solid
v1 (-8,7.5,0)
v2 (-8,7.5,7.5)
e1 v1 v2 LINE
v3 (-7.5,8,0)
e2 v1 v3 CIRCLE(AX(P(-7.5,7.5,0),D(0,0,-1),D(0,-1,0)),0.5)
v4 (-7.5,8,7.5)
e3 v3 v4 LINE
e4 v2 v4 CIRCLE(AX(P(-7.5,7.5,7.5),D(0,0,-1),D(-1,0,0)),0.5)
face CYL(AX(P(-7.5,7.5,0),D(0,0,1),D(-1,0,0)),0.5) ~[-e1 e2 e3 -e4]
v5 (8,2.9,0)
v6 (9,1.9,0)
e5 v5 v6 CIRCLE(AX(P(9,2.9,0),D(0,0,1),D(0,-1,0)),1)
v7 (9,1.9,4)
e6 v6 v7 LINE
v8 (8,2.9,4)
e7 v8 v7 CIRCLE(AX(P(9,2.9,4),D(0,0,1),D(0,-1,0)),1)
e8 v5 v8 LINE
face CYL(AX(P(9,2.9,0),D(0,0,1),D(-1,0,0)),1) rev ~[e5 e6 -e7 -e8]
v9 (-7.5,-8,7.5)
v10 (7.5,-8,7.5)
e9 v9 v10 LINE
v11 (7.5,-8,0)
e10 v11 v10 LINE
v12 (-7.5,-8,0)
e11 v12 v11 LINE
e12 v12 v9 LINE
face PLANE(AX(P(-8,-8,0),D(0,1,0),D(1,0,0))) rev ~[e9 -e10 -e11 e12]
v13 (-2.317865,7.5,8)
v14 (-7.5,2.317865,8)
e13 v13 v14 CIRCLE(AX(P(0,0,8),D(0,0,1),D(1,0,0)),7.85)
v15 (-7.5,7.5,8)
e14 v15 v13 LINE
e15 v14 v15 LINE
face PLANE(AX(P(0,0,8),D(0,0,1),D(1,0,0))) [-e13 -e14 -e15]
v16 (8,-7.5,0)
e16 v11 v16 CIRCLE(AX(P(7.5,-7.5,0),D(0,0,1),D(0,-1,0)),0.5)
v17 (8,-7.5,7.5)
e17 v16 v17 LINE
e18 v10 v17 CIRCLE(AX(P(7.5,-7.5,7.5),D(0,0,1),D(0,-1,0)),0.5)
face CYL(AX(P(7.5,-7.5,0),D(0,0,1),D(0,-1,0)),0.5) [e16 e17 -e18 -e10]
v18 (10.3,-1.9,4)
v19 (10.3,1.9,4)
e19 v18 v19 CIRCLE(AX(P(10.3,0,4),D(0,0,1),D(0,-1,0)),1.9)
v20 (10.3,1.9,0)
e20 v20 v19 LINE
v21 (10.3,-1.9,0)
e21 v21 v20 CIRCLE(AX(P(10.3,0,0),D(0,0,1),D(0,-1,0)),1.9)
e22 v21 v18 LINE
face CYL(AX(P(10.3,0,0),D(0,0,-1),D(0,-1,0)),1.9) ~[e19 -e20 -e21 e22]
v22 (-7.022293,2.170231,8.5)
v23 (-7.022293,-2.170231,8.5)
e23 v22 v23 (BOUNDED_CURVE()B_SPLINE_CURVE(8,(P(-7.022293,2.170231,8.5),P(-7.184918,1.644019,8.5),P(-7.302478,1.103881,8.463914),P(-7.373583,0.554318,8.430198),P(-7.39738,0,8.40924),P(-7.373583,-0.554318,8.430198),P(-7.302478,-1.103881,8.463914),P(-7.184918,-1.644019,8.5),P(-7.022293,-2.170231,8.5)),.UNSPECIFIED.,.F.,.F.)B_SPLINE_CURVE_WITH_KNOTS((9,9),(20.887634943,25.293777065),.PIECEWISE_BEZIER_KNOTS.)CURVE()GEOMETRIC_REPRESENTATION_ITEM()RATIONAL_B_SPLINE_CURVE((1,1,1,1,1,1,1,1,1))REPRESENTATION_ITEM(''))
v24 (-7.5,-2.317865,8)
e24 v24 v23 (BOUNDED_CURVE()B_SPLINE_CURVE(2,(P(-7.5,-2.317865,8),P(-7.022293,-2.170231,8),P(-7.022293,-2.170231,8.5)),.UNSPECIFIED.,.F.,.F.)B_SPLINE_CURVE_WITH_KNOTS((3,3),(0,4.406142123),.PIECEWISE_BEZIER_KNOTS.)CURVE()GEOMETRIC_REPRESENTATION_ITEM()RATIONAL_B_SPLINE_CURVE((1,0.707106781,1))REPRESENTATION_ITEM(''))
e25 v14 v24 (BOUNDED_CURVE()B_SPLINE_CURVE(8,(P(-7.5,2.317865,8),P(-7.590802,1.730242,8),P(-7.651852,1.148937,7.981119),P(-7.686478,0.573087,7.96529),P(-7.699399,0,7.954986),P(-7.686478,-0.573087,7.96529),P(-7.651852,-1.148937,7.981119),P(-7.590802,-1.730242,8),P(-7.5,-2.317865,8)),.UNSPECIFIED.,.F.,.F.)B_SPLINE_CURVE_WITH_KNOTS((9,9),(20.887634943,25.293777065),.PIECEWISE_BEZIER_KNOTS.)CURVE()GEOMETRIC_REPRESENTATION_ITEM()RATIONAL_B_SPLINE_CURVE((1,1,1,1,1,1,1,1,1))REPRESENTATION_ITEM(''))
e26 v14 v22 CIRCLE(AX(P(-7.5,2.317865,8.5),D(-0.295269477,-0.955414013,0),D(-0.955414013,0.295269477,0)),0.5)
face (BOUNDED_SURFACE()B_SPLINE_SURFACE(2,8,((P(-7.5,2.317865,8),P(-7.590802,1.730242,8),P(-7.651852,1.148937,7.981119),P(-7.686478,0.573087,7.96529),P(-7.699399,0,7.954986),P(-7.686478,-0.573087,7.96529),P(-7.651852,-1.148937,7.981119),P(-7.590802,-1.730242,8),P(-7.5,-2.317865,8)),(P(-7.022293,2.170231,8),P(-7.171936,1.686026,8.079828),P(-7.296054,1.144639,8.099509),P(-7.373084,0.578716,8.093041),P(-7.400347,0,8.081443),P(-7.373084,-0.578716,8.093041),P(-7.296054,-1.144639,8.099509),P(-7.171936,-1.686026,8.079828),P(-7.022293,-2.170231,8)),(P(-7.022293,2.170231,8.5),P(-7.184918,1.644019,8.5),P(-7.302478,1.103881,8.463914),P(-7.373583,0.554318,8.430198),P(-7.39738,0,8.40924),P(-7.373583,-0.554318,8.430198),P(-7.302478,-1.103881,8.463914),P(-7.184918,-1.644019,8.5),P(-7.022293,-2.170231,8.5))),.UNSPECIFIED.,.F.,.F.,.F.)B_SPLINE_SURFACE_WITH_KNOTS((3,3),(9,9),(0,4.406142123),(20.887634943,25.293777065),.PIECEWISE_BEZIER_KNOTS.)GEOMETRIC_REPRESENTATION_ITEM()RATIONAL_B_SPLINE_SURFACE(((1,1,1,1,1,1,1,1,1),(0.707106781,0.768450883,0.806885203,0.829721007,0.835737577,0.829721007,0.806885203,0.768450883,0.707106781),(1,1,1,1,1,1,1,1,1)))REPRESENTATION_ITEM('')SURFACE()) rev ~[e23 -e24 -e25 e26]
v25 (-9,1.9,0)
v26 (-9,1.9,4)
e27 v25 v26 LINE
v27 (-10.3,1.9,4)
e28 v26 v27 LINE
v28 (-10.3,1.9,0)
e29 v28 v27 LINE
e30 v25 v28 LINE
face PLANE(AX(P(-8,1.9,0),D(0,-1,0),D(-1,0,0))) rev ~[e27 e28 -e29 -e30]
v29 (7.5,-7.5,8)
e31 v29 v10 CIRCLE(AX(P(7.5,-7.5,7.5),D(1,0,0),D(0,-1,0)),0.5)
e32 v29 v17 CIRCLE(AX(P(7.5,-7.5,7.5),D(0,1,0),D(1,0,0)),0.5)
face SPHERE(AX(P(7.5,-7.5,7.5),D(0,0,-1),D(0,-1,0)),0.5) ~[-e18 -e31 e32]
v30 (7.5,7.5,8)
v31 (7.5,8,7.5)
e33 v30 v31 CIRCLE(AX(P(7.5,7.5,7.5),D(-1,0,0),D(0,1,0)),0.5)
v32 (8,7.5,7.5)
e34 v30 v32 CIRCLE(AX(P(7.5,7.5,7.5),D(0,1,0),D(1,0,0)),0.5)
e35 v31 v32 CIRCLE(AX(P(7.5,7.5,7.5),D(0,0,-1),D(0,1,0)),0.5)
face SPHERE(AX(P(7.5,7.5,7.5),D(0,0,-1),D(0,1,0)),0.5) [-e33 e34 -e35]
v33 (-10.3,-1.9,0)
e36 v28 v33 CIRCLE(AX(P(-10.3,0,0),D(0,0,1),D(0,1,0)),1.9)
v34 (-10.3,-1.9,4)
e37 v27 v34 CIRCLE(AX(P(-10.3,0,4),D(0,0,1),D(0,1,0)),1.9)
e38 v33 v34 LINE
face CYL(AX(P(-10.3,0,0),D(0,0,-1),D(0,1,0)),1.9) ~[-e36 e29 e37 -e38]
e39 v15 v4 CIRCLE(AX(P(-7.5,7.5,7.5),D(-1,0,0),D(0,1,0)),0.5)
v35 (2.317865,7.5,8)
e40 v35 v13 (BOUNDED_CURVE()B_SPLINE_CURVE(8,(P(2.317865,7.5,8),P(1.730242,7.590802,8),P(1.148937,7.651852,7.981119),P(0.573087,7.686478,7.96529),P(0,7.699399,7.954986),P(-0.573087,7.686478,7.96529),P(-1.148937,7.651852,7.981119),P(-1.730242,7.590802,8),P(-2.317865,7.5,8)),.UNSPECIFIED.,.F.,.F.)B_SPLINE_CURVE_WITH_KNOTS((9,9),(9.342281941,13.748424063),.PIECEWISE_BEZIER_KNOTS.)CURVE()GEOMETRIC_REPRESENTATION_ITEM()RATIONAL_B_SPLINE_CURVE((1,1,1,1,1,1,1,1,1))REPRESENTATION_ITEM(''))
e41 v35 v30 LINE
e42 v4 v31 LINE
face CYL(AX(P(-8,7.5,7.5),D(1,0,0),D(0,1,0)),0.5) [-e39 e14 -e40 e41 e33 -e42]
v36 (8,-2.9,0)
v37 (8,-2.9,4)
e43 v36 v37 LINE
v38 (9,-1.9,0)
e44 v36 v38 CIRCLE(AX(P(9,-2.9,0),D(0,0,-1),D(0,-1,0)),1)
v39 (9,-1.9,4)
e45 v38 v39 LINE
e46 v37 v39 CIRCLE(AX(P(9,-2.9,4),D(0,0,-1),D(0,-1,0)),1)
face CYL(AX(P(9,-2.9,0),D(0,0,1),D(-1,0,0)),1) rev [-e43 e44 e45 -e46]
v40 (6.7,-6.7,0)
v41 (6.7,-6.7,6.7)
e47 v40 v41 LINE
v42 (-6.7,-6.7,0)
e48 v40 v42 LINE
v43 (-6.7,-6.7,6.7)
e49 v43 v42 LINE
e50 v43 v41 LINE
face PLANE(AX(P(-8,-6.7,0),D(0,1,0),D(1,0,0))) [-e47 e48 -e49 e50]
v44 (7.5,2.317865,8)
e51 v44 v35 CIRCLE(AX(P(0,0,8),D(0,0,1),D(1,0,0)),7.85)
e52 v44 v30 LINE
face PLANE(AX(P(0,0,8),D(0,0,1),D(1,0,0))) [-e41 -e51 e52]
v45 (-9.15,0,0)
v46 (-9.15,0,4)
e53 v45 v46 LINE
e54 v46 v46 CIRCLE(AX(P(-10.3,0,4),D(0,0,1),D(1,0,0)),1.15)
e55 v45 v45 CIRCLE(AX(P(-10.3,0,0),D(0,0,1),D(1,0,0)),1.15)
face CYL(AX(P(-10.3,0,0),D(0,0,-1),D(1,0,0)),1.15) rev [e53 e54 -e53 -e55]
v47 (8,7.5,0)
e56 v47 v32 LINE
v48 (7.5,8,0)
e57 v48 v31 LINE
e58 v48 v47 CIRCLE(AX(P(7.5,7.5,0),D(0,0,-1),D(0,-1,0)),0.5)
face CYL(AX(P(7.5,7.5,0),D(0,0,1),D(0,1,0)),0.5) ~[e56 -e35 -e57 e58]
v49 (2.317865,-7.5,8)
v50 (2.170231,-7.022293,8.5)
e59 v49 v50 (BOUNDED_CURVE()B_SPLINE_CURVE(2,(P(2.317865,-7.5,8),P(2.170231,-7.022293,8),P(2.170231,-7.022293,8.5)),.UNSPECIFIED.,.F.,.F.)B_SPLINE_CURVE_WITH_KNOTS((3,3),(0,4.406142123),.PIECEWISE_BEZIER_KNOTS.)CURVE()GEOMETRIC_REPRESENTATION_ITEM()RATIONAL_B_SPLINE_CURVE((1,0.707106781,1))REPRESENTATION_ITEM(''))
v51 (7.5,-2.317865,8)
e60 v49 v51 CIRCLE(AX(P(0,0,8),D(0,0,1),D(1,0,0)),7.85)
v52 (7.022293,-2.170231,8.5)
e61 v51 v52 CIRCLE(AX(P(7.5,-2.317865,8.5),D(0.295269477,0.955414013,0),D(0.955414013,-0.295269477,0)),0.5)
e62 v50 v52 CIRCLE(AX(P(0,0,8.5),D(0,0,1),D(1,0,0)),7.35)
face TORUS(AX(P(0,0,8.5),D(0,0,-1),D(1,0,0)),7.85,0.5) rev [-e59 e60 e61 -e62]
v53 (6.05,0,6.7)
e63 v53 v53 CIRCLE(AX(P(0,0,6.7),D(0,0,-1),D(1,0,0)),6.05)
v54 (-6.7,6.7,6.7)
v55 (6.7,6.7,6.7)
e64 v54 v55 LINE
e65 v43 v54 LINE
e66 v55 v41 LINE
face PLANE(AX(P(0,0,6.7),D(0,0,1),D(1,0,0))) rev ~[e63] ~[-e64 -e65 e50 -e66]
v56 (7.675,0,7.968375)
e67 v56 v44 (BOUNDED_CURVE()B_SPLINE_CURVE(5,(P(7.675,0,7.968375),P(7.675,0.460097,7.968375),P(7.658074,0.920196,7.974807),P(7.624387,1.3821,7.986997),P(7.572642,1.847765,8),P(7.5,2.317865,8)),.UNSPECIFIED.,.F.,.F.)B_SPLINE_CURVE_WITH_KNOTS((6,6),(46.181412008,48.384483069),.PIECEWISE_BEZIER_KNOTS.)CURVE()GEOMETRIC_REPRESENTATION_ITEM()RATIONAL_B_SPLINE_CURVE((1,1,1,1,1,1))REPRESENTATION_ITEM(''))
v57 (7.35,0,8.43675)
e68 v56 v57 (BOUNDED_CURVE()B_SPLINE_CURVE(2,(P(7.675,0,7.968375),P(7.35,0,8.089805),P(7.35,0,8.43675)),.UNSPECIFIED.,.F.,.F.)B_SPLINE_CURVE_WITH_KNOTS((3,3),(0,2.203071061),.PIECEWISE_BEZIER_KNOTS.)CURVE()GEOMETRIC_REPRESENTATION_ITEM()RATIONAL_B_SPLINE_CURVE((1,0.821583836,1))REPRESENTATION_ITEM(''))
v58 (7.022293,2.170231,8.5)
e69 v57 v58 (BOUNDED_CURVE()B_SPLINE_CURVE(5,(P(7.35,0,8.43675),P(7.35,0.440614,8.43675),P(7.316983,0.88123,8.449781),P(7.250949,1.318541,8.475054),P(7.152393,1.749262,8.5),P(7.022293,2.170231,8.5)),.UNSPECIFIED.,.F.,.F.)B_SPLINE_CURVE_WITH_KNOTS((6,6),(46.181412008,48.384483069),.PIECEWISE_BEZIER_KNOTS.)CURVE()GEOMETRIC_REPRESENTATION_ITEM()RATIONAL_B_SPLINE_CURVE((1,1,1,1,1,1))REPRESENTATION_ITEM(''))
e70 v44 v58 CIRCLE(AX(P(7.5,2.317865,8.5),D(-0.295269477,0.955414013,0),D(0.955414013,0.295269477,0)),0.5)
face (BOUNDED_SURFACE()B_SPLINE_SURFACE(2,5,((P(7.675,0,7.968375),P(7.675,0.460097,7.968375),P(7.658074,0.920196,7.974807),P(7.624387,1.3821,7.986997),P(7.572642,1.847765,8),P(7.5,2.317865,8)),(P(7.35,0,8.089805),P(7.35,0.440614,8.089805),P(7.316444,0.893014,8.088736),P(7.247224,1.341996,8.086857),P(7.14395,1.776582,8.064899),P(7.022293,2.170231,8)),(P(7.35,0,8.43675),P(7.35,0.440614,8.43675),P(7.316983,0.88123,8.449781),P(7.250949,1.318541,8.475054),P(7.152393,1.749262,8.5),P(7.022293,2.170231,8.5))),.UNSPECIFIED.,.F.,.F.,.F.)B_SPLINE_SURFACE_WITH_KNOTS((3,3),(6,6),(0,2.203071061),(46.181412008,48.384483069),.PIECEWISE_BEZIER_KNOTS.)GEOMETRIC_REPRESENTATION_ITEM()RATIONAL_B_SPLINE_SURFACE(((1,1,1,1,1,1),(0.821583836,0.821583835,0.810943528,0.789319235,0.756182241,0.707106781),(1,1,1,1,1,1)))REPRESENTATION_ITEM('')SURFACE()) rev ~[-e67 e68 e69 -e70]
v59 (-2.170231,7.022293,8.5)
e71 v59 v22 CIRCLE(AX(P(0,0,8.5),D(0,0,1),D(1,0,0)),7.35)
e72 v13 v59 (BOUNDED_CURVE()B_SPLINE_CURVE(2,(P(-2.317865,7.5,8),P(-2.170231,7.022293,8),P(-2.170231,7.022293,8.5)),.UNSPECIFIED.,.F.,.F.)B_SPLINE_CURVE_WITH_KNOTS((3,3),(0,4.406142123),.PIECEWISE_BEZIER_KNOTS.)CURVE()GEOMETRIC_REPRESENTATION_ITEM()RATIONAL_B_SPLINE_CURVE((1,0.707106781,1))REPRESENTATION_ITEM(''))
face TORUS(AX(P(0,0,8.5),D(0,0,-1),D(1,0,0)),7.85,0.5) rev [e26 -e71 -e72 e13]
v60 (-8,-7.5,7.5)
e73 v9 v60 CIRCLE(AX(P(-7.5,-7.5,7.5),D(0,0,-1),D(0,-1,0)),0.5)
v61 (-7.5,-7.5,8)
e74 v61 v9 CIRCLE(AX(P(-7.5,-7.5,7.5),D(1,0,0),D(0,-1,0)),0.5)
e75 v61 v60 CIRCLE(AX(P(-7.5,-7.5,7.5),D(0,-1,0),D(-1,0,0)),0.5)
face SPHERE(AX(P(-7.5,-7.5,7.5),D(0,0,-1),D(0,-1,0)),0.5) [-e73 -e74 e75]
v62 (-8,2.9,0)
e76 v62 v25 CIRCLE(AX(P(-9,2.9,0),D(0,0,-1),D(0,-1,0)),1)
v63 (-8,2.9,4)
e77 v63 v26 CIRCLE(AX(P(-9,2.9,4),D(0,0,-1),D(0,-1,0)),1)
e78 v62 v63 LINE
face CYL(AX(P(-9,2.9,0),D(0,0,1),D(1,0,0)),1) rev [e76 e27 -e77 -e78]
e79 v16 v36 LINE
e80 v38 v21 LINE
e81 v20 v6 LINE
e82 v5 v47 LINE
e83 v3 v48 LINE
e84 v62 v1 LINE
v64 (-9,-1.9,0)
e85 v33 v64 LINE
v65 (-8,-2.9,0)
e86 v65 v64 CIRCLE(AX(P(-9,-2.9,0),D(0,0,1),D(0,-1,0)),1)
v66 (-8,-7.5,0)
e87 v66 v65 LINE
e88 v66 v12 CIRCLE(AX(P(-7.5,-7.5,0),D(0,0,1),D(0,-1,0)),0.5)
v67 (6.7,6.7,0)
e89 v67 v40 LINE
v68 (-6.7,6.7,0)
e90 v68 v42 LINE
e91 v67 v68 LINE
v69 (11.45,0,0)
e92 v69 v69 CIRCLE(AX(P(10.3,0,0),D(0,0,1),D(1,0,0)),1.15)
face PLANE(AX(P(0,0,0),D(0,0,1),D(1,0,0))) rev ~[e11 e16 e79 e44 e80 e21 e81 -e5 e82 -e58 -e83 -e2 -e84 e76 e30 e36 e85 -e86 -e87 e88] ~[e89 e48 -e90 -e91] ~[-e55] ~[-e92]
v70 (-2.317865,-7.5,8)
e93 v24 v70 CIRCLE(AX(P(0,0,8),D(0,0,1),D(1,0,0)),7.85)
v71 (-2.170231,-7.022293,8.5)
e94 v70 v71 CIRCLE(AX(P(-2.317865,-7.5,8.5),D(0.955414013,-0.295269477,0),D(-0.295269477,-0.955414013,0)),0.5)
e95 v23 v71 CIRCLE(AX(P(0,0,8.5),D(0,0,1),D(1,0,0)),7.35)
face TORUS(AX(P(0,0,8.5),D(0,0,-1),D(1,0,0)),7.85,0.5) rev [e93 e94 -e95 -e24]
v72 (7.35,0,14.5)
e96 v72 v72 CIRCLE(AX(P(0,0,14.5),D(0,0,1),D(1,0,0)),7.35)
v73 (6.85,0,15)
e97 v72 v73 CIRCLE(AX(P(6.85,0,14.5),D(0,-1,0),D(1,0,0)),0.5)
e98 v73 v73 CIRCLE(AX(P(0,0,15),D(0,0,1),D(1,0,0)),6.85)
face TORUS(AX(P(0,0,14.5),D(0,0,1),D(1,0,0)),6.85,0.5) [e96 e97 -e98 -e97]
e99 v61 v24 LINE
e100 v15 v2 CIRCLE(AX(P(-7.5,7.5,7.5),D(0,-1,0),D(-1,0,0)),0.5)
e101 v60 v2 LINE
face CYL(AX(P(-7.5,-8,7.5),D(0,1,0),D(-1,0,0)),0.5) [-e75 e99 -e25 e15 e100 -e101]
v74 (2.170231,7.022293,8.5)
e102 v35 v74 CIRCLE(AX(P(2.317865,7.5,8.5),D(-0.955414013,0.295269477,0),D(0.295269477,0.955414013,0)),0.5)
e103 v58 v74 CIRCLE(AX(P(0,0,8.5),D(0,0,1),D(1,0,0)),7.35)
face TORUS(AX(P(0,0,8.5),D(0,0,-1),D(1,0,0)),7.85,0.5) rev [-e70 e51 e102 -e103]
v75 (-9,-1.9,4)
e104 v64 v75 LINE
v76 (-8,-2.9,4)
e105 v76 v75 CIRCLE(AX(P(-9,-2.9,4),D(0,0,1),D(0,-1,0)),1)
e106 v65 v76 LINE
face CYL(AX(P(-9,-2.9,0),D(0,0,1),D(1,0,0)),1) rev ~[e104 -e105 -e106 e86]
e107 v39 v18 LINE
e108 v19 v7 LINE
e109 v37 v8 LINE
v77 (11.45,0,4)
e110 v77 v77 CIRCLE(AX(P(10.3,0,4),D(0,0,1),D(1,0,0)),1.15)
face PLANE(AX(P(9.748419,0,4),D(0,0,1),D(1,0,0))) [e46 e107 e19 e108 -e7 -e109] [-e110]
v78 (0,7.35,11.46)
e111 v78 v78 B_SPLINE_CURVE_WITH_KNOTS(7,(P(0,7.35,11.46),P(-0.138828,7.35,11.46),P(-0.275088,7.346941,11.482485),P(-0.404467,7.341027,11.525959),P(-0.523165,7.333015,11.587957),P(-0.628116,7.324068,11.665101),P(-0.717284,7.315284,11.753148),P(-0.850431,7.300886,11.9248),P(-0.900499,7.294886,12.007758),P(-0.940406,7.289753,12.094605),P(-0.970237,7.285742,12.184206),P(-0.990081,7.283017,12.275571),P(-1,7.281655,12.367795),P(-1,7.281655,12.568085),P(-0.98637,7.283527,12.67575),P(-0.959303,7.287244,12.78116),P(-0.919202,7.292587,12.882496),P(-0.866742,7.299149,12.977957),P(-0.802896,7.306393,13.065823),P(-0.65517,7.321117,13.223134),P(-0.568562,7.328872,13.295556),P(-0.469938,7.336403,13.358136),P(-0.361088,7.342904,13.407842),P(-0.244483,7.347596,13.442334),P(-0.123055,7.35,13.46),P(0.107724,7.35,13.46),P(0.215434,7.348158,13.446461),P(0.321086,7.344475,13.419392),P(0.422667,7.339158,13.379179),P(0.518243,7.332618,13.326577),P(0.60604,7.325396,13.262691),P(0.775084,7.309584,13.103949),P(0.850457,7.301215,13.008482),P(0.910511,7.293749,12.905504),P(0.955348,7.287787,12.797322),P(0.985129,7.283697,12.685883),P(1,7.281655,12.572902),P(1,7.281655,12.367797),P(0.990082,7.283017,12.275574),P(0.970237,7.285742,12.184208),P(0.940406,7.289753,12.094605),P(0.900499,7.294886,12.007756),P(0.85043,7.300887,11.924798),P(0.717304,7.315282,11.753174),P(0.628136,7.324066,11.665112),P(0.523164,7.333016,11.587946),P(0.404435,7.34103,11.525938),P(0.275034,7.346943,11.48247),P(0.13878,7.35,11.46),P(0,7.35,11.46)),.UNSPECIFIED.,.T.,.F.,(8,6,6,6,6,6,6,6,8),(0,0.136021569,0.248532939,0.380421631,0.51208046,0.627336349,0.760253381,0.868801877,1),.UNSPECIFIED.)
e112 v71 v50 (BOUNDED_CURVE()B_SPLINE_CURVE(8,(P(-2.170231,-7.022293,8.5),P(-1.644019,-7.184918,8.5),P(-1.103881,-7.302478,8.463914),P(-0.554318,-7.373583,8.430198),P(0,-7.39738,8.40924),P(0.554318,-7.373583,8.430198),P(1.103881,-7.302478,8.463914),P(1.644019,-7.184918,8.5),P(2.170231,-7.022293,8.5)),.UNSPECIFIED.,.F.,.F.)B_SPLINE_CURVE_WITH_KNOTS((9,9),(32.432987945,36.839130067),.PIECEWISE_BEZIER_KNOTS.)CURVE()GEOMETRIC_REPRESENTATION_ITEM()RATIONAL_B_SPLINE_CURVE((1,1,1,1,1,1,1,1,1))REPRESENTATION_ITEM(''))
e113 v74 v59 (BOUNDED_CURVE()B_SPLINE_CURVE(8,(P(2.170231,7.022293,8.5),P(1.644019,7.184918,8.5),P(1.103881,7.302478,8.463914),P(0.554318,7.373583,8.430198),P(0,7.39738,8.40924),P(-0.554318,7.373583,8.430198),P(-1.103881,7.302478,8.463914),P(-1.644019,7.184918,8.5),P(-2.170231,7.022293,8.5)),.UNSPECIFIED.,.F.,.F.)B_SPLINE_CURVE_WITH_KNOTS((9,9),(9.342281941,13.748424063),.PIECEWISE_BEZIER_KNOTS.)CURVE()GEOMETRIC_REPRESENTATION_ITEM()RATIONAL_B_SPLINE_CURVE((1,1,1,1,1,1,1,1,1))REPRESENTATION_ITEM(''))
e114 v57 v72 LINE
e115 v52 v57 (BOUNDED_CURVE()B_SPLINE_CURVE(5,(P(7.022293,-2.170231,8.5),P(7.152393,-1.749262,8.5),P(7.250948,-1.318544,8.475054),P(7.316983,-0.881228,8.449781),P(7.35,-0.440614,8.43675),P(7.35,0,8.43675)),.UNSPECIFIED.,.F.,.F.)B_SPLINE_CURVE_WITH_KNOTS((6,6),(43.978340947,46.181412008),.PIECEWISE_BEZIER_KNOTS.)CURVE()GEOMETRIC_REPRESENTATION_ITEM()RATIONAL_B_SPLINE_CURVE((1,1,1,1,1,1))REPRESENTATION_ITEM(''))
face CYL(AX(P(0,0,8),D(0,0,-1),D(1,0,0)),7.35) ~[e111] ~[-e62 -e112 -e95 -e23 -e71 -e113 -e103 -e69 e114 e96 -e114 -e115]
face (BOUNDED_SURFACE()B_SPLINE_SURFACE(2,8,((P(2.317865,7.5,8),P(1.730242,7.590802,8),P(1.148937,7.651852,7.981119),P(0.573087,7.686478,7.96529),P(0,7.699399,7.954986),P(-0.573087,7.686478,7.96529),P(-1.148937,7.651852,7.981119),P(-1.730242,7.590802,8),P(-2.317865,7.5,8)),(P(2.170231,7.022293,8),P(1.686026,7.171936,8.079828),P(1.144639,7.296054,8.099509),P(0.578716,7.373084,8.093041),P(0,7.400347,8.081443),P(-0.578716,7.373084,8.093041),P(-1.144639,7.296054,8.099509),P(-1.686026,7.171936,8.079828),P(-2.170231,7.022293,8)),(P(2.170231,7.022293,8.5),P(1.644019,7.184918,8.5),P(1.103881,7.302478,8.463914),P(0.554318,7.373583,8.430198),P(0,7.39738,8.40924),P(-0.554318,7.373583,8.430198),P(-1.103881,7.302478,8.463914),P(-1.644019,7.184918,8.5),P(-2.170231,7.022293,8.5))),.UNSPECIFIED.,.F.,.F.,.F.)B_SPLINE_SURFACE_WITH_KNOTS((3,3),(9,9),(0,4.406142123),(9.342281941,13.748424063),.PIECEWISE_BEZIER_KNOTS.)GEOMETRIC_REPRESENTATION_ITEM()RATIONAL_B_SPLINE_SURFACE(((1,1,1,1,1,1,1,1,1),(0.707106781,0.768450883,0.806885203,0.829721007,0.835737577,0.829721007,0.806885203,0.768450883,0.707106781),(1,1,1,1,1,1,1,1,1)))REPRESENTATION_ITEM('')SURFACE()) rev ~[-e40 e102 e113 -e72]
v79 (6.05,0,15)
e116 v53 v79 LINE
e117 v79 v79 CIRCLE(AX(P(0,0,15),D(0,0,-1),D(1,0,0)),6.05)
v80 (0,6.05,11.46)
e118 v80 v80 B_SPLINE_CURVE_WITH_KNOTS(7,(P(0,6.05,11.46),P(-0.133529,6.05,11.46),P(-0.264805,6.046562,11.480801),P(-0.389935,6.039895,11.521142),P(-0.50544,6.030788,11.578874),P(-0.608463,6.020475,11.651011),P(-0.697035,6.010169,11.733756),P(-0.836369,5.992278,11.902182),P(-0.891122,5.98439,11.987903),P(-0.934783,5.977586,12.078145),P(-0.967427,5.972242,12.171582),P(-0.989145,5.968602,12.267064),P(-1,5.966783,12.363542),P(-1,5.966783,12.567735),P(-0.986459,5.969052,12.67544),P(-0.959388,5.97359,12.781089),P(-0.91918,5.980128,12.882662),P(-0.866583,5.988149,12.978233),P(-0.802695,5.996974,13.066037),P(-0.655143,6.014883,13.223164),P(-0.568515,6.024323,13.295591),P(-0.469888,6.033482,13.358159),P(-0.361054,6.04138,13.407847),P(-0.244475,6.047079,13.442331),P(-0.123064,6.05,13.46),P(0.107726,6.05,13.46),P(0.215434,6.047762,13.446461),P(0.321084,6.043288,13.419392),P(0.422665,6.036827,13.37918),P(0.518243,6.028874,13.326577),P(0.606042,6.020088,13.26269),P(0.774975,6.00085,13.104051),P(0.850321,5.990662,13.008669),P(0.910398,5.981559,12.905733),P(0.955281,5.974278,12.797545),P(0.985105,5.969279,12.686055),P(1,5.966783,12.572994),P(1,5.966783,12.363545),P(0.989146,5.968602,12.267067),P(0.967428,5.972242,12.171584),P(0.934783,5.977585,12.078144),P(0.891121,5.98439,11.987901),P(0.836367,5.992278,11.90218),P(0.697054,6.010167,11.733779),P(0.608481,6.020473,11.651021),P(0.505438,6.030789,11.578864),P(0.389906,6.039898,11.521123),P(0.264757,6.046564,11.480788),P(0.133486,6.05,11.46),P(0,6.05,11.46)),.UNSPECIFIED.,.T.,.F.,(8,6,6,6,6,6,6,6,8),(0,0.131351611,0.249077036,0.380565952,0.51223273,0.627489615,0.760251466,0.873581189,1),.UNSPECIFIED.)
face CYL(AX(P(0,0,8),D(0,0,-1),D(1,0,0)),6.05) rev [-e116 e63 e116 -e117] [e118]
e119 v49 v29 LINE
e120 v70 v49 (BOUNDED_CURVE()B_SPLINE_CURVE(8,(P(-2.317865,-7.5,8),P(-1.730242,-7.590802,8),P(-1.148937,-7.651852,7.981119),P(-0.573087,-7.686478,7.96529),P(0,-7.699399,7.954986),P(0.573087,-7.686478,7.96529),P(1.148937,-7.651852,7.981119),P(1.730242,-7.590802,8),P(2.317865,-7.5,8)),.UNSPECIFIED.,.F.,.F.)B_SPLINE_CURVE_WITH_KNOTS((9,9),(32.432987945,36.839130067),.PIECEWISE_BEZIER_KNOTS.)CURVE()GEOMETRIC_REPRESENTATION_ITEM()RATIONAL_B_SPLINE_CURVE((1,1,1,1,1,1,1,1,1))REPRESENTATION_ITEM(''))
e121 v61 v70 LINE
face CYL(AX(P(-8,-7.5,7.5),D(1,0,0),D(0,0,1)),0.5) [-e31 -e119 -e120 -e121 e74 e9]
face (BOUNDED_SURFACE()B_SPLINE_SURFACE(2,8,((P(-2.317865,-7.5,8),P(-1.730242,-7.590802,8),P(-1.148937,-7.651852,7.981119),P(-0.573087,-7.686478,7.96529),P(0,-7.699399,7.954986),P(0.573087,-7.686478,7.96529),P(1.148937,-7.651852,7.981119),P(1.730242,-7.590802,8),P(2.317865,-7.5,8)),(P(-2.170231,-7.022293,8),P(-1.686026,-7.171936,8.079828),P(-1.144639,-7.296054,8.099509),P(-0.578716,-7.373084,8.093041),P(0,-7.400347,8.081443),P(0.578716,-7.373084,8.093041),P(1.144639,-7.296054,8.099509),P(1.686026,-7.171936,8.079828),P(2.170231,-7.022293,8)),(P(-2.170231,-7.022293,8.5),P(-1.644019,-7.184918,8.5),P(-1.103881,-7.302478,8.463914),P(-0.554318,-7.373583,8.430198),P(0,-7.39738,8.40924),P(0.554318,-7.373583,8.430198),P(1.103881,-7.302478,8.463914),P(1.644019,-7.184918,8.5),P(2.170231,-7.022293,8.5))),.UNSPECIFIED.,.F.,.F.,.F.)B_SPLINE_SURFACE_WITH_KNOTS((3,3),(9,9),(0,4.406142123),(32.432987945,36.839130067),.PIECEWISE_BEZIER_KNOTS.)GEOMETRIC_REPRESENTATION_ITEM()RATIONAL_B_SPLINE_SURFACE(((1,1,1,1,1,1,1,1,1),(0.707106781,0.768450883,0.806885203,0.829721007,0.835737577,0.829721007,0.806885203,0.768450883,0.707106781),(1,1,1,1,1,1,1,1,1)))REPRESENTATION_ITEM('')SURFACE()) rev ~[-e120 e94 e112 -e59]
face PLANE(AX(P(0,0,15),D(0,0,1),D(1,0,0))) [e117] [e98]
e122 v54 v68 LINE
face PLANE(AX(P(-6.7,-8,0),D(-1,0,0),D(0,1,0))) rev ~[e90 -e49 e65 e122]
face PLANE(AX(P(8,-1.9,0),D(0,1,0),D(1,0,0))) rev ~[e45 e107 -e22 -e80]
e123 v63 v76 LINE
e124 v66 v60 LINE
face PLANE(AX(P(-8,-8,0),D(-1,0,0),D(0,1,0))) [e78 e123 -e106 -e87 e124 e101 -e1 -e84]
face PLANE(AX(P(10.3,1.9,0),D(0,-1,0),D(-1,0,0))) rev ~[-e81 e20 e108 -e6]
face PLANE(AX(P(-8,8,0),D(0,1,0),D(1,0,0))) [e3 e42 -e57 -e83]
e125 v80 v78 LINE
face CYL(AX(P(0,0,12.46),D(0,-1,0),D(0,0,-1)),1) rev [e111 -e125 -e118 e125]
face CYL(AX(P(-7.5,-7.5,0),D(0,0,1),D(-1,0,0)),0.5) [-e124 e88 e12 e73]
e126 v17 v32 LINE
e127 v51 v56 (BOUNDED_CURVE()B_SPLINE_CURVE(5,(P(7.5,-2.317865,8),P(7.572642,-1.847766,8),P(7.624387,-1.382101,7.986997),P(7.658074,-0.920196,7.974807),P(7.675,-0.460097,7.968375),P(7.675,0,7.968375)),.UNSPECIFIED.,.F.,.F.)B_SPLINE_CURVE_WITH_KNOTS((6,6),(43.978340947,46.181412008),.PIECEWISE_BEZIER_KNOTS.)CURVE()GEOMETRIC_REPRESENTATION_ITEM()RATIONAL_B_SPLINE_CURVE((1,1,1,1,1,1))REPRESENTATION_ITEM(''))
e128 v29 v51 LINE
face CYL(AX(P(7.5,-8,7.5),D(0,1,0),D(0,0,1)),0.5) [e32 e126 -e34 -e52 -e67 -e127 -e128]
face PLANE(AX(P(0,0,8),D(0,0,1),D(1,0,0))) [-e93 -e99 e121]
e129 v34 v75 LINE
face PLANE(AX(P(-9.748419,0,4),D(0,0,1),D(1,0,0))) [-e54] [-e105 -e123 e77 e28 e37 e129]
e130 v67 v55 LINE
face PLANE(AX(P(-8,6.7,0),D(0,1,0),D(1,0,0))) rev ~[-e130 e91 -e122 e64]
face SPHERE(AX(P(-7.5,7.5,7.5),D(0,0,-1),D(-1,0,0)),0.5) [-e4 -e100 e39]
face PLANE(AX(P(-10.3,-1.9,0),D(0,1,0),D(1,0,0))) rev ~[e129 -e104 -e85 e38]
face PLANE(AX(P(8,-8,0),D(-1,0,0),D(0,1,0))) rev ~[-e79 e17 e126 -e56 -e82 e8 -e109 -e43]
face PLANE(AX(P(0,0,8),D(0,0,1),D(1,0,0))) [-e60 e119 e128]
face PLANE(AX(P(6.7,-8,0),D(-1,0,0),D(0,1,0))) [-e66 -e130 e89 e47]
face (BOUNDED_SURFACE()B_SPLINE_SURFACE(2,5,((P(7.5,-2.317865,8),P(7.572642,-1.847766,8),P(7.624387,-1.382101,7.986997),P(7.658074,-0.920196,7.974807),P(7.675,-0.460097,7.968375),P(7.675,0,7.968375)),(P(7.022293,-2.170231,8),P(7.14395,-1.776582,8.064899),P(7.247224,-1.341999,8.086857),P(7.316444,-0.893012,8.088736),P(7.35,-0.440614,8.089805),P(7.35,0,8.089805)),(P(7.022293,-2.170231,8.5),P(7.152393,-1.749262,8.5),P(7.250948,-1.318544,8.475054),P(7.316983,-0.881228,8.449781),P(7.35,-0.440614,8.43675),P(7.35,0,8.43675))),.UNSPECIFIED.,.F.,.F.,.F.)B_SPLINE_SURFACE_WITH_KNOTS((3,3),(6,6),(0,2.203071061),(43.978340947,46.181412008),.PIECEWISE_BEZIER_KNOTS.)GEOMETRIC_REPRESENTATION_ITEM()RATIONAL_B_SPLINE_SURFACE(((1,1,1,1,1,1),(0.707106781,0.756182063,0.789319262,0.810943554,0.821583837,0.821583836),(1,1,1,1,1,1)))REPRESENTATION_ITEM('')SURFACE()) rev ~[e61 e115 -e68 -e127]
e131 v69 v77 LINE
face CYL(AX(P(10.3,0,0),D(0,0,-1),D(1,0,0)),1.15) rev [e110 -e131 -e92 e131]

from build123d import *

# Parameters (mm, degrees)
SKETCH1_W          = 16
SKETCH1_H          = 16
EXTRUDE1_DEPTH     = 8
SKETCH2_R          = 7.35
EXTRUDE2_DEPTH     = 7
SHELL1_T           = -1.3
SKETCH6_R          = 1
CUT_EXTRUDE1_DEPTH = 19.788294228
SKETCH4_R          = 1.15
EXTRUDE3_DEPTH     = 4
FILLET1_R          = 0.5
FILLET2_R          = 0.5
FILLET3_R          = 1


with BuildPart() as part:
    # Sketch1 → Extrude1 (new body)
    with BuildSketch(Plane.XY):
        Rectangle(SKETCH1_W, SKETCH1_H)
    extrude(amount=EXTRUDE1_DEPTH)

    # Sketch2 → Extrude2 (add)
    with BuildSketch(Plane.XY.offset(8)):
        Circle(SKETCH2_R)
    extrude(amount=EXTRUDE2_DEPTH)

    # Shell1
    shell1_openings = [part.faces().sort_by_distance(p)[0] for p in [
        (0, 0, 15),
        (0, 0, 0),
    ]]
    offset(amount=SHELL1_T, openings=shell1_openings, kind=Kind.INTERSECTION)

    # Sketch6 → Cut-Extrude1 (cut, through all)
    with BuildSketch(Plane(origin=(0, 0, 0), x_dir=(1, 0, 0), z_dir=(0, 1, 0))):
        with Locations(Location((0, -12.46, 0), (0, 0, 90))):
            Circle(SKETCH6_R)
    extrude(amount=CUT_EXTRUDE1_DEPTH, mode=Mode.SUBTRACT)

    # Sketch4 → Extrude3 (add)
    with BuildSketch(Plane.XY):
        with BuildLine():
            Line((-8, 1.9), (-10.3, 1.9))
            ThreePointArc((-10.3, 1.9), (-12.2, 0), (-10.3, -1.9))
            Line((-10.3, -1.9), (-8, -1.9))
            Line((-8, -1.9), (-8, 1.9))
        make_face()
        with Locations((-10.3, 0)):
            Circle(SKETCH4_R, mode=Mode.SUBTRACT)
        with BuildLine():
            Line((8, 1.9), (8, -1.9))
            Line((8, -1.9), (10.3, -1.9))
            ThreePointArc((10.3, -1.9), (12.2, 0), (10.3, 1.9))
            Line((10.3, 1.9), (8, 1.9))
        make_face()
        with Locations((10.3, 0)):
            Circle(SKETCH4_R, mode=Mode.SUBTRACT)
    extrude(amount=EXTRUDE3_DEPTH)

    # Fillet1
    fillet1_edges = [part.edges().sort_by_distance(p)[0] for p in [
        (-8, 8, 4),
        (-8, -8, 4),
        (8, -8, 4),
        (8, 8, 4),
        (0, -8, 8),
        (-8, 0, 8),
        (0, 8, 8),
        (8, 0, 8),
    ]]
    fillet(fillet1_edges, radius=FILLET1_R)

    # Fillet2
    fillet2_edges = [part.edges().sort_by_distance(p)[0] for p in [
        (-7.35, 0, 8),
        (-7.35, 0, 15),
    ]]
    fillet(fillet2_edges, radius=FILLET2_R)

    # Fillet3
    fillet3_edges = [part.edges().sort_by_distance(p)[0] for p in [
        (8, 1.9, 2),
        (8, -1.9, 2),
        (-8, -1.9, 2),
        (-8, 1.9, 2),
    ]]
    fillet(fillet3_edges, radius=FILLET3_R)


solid = part.part
